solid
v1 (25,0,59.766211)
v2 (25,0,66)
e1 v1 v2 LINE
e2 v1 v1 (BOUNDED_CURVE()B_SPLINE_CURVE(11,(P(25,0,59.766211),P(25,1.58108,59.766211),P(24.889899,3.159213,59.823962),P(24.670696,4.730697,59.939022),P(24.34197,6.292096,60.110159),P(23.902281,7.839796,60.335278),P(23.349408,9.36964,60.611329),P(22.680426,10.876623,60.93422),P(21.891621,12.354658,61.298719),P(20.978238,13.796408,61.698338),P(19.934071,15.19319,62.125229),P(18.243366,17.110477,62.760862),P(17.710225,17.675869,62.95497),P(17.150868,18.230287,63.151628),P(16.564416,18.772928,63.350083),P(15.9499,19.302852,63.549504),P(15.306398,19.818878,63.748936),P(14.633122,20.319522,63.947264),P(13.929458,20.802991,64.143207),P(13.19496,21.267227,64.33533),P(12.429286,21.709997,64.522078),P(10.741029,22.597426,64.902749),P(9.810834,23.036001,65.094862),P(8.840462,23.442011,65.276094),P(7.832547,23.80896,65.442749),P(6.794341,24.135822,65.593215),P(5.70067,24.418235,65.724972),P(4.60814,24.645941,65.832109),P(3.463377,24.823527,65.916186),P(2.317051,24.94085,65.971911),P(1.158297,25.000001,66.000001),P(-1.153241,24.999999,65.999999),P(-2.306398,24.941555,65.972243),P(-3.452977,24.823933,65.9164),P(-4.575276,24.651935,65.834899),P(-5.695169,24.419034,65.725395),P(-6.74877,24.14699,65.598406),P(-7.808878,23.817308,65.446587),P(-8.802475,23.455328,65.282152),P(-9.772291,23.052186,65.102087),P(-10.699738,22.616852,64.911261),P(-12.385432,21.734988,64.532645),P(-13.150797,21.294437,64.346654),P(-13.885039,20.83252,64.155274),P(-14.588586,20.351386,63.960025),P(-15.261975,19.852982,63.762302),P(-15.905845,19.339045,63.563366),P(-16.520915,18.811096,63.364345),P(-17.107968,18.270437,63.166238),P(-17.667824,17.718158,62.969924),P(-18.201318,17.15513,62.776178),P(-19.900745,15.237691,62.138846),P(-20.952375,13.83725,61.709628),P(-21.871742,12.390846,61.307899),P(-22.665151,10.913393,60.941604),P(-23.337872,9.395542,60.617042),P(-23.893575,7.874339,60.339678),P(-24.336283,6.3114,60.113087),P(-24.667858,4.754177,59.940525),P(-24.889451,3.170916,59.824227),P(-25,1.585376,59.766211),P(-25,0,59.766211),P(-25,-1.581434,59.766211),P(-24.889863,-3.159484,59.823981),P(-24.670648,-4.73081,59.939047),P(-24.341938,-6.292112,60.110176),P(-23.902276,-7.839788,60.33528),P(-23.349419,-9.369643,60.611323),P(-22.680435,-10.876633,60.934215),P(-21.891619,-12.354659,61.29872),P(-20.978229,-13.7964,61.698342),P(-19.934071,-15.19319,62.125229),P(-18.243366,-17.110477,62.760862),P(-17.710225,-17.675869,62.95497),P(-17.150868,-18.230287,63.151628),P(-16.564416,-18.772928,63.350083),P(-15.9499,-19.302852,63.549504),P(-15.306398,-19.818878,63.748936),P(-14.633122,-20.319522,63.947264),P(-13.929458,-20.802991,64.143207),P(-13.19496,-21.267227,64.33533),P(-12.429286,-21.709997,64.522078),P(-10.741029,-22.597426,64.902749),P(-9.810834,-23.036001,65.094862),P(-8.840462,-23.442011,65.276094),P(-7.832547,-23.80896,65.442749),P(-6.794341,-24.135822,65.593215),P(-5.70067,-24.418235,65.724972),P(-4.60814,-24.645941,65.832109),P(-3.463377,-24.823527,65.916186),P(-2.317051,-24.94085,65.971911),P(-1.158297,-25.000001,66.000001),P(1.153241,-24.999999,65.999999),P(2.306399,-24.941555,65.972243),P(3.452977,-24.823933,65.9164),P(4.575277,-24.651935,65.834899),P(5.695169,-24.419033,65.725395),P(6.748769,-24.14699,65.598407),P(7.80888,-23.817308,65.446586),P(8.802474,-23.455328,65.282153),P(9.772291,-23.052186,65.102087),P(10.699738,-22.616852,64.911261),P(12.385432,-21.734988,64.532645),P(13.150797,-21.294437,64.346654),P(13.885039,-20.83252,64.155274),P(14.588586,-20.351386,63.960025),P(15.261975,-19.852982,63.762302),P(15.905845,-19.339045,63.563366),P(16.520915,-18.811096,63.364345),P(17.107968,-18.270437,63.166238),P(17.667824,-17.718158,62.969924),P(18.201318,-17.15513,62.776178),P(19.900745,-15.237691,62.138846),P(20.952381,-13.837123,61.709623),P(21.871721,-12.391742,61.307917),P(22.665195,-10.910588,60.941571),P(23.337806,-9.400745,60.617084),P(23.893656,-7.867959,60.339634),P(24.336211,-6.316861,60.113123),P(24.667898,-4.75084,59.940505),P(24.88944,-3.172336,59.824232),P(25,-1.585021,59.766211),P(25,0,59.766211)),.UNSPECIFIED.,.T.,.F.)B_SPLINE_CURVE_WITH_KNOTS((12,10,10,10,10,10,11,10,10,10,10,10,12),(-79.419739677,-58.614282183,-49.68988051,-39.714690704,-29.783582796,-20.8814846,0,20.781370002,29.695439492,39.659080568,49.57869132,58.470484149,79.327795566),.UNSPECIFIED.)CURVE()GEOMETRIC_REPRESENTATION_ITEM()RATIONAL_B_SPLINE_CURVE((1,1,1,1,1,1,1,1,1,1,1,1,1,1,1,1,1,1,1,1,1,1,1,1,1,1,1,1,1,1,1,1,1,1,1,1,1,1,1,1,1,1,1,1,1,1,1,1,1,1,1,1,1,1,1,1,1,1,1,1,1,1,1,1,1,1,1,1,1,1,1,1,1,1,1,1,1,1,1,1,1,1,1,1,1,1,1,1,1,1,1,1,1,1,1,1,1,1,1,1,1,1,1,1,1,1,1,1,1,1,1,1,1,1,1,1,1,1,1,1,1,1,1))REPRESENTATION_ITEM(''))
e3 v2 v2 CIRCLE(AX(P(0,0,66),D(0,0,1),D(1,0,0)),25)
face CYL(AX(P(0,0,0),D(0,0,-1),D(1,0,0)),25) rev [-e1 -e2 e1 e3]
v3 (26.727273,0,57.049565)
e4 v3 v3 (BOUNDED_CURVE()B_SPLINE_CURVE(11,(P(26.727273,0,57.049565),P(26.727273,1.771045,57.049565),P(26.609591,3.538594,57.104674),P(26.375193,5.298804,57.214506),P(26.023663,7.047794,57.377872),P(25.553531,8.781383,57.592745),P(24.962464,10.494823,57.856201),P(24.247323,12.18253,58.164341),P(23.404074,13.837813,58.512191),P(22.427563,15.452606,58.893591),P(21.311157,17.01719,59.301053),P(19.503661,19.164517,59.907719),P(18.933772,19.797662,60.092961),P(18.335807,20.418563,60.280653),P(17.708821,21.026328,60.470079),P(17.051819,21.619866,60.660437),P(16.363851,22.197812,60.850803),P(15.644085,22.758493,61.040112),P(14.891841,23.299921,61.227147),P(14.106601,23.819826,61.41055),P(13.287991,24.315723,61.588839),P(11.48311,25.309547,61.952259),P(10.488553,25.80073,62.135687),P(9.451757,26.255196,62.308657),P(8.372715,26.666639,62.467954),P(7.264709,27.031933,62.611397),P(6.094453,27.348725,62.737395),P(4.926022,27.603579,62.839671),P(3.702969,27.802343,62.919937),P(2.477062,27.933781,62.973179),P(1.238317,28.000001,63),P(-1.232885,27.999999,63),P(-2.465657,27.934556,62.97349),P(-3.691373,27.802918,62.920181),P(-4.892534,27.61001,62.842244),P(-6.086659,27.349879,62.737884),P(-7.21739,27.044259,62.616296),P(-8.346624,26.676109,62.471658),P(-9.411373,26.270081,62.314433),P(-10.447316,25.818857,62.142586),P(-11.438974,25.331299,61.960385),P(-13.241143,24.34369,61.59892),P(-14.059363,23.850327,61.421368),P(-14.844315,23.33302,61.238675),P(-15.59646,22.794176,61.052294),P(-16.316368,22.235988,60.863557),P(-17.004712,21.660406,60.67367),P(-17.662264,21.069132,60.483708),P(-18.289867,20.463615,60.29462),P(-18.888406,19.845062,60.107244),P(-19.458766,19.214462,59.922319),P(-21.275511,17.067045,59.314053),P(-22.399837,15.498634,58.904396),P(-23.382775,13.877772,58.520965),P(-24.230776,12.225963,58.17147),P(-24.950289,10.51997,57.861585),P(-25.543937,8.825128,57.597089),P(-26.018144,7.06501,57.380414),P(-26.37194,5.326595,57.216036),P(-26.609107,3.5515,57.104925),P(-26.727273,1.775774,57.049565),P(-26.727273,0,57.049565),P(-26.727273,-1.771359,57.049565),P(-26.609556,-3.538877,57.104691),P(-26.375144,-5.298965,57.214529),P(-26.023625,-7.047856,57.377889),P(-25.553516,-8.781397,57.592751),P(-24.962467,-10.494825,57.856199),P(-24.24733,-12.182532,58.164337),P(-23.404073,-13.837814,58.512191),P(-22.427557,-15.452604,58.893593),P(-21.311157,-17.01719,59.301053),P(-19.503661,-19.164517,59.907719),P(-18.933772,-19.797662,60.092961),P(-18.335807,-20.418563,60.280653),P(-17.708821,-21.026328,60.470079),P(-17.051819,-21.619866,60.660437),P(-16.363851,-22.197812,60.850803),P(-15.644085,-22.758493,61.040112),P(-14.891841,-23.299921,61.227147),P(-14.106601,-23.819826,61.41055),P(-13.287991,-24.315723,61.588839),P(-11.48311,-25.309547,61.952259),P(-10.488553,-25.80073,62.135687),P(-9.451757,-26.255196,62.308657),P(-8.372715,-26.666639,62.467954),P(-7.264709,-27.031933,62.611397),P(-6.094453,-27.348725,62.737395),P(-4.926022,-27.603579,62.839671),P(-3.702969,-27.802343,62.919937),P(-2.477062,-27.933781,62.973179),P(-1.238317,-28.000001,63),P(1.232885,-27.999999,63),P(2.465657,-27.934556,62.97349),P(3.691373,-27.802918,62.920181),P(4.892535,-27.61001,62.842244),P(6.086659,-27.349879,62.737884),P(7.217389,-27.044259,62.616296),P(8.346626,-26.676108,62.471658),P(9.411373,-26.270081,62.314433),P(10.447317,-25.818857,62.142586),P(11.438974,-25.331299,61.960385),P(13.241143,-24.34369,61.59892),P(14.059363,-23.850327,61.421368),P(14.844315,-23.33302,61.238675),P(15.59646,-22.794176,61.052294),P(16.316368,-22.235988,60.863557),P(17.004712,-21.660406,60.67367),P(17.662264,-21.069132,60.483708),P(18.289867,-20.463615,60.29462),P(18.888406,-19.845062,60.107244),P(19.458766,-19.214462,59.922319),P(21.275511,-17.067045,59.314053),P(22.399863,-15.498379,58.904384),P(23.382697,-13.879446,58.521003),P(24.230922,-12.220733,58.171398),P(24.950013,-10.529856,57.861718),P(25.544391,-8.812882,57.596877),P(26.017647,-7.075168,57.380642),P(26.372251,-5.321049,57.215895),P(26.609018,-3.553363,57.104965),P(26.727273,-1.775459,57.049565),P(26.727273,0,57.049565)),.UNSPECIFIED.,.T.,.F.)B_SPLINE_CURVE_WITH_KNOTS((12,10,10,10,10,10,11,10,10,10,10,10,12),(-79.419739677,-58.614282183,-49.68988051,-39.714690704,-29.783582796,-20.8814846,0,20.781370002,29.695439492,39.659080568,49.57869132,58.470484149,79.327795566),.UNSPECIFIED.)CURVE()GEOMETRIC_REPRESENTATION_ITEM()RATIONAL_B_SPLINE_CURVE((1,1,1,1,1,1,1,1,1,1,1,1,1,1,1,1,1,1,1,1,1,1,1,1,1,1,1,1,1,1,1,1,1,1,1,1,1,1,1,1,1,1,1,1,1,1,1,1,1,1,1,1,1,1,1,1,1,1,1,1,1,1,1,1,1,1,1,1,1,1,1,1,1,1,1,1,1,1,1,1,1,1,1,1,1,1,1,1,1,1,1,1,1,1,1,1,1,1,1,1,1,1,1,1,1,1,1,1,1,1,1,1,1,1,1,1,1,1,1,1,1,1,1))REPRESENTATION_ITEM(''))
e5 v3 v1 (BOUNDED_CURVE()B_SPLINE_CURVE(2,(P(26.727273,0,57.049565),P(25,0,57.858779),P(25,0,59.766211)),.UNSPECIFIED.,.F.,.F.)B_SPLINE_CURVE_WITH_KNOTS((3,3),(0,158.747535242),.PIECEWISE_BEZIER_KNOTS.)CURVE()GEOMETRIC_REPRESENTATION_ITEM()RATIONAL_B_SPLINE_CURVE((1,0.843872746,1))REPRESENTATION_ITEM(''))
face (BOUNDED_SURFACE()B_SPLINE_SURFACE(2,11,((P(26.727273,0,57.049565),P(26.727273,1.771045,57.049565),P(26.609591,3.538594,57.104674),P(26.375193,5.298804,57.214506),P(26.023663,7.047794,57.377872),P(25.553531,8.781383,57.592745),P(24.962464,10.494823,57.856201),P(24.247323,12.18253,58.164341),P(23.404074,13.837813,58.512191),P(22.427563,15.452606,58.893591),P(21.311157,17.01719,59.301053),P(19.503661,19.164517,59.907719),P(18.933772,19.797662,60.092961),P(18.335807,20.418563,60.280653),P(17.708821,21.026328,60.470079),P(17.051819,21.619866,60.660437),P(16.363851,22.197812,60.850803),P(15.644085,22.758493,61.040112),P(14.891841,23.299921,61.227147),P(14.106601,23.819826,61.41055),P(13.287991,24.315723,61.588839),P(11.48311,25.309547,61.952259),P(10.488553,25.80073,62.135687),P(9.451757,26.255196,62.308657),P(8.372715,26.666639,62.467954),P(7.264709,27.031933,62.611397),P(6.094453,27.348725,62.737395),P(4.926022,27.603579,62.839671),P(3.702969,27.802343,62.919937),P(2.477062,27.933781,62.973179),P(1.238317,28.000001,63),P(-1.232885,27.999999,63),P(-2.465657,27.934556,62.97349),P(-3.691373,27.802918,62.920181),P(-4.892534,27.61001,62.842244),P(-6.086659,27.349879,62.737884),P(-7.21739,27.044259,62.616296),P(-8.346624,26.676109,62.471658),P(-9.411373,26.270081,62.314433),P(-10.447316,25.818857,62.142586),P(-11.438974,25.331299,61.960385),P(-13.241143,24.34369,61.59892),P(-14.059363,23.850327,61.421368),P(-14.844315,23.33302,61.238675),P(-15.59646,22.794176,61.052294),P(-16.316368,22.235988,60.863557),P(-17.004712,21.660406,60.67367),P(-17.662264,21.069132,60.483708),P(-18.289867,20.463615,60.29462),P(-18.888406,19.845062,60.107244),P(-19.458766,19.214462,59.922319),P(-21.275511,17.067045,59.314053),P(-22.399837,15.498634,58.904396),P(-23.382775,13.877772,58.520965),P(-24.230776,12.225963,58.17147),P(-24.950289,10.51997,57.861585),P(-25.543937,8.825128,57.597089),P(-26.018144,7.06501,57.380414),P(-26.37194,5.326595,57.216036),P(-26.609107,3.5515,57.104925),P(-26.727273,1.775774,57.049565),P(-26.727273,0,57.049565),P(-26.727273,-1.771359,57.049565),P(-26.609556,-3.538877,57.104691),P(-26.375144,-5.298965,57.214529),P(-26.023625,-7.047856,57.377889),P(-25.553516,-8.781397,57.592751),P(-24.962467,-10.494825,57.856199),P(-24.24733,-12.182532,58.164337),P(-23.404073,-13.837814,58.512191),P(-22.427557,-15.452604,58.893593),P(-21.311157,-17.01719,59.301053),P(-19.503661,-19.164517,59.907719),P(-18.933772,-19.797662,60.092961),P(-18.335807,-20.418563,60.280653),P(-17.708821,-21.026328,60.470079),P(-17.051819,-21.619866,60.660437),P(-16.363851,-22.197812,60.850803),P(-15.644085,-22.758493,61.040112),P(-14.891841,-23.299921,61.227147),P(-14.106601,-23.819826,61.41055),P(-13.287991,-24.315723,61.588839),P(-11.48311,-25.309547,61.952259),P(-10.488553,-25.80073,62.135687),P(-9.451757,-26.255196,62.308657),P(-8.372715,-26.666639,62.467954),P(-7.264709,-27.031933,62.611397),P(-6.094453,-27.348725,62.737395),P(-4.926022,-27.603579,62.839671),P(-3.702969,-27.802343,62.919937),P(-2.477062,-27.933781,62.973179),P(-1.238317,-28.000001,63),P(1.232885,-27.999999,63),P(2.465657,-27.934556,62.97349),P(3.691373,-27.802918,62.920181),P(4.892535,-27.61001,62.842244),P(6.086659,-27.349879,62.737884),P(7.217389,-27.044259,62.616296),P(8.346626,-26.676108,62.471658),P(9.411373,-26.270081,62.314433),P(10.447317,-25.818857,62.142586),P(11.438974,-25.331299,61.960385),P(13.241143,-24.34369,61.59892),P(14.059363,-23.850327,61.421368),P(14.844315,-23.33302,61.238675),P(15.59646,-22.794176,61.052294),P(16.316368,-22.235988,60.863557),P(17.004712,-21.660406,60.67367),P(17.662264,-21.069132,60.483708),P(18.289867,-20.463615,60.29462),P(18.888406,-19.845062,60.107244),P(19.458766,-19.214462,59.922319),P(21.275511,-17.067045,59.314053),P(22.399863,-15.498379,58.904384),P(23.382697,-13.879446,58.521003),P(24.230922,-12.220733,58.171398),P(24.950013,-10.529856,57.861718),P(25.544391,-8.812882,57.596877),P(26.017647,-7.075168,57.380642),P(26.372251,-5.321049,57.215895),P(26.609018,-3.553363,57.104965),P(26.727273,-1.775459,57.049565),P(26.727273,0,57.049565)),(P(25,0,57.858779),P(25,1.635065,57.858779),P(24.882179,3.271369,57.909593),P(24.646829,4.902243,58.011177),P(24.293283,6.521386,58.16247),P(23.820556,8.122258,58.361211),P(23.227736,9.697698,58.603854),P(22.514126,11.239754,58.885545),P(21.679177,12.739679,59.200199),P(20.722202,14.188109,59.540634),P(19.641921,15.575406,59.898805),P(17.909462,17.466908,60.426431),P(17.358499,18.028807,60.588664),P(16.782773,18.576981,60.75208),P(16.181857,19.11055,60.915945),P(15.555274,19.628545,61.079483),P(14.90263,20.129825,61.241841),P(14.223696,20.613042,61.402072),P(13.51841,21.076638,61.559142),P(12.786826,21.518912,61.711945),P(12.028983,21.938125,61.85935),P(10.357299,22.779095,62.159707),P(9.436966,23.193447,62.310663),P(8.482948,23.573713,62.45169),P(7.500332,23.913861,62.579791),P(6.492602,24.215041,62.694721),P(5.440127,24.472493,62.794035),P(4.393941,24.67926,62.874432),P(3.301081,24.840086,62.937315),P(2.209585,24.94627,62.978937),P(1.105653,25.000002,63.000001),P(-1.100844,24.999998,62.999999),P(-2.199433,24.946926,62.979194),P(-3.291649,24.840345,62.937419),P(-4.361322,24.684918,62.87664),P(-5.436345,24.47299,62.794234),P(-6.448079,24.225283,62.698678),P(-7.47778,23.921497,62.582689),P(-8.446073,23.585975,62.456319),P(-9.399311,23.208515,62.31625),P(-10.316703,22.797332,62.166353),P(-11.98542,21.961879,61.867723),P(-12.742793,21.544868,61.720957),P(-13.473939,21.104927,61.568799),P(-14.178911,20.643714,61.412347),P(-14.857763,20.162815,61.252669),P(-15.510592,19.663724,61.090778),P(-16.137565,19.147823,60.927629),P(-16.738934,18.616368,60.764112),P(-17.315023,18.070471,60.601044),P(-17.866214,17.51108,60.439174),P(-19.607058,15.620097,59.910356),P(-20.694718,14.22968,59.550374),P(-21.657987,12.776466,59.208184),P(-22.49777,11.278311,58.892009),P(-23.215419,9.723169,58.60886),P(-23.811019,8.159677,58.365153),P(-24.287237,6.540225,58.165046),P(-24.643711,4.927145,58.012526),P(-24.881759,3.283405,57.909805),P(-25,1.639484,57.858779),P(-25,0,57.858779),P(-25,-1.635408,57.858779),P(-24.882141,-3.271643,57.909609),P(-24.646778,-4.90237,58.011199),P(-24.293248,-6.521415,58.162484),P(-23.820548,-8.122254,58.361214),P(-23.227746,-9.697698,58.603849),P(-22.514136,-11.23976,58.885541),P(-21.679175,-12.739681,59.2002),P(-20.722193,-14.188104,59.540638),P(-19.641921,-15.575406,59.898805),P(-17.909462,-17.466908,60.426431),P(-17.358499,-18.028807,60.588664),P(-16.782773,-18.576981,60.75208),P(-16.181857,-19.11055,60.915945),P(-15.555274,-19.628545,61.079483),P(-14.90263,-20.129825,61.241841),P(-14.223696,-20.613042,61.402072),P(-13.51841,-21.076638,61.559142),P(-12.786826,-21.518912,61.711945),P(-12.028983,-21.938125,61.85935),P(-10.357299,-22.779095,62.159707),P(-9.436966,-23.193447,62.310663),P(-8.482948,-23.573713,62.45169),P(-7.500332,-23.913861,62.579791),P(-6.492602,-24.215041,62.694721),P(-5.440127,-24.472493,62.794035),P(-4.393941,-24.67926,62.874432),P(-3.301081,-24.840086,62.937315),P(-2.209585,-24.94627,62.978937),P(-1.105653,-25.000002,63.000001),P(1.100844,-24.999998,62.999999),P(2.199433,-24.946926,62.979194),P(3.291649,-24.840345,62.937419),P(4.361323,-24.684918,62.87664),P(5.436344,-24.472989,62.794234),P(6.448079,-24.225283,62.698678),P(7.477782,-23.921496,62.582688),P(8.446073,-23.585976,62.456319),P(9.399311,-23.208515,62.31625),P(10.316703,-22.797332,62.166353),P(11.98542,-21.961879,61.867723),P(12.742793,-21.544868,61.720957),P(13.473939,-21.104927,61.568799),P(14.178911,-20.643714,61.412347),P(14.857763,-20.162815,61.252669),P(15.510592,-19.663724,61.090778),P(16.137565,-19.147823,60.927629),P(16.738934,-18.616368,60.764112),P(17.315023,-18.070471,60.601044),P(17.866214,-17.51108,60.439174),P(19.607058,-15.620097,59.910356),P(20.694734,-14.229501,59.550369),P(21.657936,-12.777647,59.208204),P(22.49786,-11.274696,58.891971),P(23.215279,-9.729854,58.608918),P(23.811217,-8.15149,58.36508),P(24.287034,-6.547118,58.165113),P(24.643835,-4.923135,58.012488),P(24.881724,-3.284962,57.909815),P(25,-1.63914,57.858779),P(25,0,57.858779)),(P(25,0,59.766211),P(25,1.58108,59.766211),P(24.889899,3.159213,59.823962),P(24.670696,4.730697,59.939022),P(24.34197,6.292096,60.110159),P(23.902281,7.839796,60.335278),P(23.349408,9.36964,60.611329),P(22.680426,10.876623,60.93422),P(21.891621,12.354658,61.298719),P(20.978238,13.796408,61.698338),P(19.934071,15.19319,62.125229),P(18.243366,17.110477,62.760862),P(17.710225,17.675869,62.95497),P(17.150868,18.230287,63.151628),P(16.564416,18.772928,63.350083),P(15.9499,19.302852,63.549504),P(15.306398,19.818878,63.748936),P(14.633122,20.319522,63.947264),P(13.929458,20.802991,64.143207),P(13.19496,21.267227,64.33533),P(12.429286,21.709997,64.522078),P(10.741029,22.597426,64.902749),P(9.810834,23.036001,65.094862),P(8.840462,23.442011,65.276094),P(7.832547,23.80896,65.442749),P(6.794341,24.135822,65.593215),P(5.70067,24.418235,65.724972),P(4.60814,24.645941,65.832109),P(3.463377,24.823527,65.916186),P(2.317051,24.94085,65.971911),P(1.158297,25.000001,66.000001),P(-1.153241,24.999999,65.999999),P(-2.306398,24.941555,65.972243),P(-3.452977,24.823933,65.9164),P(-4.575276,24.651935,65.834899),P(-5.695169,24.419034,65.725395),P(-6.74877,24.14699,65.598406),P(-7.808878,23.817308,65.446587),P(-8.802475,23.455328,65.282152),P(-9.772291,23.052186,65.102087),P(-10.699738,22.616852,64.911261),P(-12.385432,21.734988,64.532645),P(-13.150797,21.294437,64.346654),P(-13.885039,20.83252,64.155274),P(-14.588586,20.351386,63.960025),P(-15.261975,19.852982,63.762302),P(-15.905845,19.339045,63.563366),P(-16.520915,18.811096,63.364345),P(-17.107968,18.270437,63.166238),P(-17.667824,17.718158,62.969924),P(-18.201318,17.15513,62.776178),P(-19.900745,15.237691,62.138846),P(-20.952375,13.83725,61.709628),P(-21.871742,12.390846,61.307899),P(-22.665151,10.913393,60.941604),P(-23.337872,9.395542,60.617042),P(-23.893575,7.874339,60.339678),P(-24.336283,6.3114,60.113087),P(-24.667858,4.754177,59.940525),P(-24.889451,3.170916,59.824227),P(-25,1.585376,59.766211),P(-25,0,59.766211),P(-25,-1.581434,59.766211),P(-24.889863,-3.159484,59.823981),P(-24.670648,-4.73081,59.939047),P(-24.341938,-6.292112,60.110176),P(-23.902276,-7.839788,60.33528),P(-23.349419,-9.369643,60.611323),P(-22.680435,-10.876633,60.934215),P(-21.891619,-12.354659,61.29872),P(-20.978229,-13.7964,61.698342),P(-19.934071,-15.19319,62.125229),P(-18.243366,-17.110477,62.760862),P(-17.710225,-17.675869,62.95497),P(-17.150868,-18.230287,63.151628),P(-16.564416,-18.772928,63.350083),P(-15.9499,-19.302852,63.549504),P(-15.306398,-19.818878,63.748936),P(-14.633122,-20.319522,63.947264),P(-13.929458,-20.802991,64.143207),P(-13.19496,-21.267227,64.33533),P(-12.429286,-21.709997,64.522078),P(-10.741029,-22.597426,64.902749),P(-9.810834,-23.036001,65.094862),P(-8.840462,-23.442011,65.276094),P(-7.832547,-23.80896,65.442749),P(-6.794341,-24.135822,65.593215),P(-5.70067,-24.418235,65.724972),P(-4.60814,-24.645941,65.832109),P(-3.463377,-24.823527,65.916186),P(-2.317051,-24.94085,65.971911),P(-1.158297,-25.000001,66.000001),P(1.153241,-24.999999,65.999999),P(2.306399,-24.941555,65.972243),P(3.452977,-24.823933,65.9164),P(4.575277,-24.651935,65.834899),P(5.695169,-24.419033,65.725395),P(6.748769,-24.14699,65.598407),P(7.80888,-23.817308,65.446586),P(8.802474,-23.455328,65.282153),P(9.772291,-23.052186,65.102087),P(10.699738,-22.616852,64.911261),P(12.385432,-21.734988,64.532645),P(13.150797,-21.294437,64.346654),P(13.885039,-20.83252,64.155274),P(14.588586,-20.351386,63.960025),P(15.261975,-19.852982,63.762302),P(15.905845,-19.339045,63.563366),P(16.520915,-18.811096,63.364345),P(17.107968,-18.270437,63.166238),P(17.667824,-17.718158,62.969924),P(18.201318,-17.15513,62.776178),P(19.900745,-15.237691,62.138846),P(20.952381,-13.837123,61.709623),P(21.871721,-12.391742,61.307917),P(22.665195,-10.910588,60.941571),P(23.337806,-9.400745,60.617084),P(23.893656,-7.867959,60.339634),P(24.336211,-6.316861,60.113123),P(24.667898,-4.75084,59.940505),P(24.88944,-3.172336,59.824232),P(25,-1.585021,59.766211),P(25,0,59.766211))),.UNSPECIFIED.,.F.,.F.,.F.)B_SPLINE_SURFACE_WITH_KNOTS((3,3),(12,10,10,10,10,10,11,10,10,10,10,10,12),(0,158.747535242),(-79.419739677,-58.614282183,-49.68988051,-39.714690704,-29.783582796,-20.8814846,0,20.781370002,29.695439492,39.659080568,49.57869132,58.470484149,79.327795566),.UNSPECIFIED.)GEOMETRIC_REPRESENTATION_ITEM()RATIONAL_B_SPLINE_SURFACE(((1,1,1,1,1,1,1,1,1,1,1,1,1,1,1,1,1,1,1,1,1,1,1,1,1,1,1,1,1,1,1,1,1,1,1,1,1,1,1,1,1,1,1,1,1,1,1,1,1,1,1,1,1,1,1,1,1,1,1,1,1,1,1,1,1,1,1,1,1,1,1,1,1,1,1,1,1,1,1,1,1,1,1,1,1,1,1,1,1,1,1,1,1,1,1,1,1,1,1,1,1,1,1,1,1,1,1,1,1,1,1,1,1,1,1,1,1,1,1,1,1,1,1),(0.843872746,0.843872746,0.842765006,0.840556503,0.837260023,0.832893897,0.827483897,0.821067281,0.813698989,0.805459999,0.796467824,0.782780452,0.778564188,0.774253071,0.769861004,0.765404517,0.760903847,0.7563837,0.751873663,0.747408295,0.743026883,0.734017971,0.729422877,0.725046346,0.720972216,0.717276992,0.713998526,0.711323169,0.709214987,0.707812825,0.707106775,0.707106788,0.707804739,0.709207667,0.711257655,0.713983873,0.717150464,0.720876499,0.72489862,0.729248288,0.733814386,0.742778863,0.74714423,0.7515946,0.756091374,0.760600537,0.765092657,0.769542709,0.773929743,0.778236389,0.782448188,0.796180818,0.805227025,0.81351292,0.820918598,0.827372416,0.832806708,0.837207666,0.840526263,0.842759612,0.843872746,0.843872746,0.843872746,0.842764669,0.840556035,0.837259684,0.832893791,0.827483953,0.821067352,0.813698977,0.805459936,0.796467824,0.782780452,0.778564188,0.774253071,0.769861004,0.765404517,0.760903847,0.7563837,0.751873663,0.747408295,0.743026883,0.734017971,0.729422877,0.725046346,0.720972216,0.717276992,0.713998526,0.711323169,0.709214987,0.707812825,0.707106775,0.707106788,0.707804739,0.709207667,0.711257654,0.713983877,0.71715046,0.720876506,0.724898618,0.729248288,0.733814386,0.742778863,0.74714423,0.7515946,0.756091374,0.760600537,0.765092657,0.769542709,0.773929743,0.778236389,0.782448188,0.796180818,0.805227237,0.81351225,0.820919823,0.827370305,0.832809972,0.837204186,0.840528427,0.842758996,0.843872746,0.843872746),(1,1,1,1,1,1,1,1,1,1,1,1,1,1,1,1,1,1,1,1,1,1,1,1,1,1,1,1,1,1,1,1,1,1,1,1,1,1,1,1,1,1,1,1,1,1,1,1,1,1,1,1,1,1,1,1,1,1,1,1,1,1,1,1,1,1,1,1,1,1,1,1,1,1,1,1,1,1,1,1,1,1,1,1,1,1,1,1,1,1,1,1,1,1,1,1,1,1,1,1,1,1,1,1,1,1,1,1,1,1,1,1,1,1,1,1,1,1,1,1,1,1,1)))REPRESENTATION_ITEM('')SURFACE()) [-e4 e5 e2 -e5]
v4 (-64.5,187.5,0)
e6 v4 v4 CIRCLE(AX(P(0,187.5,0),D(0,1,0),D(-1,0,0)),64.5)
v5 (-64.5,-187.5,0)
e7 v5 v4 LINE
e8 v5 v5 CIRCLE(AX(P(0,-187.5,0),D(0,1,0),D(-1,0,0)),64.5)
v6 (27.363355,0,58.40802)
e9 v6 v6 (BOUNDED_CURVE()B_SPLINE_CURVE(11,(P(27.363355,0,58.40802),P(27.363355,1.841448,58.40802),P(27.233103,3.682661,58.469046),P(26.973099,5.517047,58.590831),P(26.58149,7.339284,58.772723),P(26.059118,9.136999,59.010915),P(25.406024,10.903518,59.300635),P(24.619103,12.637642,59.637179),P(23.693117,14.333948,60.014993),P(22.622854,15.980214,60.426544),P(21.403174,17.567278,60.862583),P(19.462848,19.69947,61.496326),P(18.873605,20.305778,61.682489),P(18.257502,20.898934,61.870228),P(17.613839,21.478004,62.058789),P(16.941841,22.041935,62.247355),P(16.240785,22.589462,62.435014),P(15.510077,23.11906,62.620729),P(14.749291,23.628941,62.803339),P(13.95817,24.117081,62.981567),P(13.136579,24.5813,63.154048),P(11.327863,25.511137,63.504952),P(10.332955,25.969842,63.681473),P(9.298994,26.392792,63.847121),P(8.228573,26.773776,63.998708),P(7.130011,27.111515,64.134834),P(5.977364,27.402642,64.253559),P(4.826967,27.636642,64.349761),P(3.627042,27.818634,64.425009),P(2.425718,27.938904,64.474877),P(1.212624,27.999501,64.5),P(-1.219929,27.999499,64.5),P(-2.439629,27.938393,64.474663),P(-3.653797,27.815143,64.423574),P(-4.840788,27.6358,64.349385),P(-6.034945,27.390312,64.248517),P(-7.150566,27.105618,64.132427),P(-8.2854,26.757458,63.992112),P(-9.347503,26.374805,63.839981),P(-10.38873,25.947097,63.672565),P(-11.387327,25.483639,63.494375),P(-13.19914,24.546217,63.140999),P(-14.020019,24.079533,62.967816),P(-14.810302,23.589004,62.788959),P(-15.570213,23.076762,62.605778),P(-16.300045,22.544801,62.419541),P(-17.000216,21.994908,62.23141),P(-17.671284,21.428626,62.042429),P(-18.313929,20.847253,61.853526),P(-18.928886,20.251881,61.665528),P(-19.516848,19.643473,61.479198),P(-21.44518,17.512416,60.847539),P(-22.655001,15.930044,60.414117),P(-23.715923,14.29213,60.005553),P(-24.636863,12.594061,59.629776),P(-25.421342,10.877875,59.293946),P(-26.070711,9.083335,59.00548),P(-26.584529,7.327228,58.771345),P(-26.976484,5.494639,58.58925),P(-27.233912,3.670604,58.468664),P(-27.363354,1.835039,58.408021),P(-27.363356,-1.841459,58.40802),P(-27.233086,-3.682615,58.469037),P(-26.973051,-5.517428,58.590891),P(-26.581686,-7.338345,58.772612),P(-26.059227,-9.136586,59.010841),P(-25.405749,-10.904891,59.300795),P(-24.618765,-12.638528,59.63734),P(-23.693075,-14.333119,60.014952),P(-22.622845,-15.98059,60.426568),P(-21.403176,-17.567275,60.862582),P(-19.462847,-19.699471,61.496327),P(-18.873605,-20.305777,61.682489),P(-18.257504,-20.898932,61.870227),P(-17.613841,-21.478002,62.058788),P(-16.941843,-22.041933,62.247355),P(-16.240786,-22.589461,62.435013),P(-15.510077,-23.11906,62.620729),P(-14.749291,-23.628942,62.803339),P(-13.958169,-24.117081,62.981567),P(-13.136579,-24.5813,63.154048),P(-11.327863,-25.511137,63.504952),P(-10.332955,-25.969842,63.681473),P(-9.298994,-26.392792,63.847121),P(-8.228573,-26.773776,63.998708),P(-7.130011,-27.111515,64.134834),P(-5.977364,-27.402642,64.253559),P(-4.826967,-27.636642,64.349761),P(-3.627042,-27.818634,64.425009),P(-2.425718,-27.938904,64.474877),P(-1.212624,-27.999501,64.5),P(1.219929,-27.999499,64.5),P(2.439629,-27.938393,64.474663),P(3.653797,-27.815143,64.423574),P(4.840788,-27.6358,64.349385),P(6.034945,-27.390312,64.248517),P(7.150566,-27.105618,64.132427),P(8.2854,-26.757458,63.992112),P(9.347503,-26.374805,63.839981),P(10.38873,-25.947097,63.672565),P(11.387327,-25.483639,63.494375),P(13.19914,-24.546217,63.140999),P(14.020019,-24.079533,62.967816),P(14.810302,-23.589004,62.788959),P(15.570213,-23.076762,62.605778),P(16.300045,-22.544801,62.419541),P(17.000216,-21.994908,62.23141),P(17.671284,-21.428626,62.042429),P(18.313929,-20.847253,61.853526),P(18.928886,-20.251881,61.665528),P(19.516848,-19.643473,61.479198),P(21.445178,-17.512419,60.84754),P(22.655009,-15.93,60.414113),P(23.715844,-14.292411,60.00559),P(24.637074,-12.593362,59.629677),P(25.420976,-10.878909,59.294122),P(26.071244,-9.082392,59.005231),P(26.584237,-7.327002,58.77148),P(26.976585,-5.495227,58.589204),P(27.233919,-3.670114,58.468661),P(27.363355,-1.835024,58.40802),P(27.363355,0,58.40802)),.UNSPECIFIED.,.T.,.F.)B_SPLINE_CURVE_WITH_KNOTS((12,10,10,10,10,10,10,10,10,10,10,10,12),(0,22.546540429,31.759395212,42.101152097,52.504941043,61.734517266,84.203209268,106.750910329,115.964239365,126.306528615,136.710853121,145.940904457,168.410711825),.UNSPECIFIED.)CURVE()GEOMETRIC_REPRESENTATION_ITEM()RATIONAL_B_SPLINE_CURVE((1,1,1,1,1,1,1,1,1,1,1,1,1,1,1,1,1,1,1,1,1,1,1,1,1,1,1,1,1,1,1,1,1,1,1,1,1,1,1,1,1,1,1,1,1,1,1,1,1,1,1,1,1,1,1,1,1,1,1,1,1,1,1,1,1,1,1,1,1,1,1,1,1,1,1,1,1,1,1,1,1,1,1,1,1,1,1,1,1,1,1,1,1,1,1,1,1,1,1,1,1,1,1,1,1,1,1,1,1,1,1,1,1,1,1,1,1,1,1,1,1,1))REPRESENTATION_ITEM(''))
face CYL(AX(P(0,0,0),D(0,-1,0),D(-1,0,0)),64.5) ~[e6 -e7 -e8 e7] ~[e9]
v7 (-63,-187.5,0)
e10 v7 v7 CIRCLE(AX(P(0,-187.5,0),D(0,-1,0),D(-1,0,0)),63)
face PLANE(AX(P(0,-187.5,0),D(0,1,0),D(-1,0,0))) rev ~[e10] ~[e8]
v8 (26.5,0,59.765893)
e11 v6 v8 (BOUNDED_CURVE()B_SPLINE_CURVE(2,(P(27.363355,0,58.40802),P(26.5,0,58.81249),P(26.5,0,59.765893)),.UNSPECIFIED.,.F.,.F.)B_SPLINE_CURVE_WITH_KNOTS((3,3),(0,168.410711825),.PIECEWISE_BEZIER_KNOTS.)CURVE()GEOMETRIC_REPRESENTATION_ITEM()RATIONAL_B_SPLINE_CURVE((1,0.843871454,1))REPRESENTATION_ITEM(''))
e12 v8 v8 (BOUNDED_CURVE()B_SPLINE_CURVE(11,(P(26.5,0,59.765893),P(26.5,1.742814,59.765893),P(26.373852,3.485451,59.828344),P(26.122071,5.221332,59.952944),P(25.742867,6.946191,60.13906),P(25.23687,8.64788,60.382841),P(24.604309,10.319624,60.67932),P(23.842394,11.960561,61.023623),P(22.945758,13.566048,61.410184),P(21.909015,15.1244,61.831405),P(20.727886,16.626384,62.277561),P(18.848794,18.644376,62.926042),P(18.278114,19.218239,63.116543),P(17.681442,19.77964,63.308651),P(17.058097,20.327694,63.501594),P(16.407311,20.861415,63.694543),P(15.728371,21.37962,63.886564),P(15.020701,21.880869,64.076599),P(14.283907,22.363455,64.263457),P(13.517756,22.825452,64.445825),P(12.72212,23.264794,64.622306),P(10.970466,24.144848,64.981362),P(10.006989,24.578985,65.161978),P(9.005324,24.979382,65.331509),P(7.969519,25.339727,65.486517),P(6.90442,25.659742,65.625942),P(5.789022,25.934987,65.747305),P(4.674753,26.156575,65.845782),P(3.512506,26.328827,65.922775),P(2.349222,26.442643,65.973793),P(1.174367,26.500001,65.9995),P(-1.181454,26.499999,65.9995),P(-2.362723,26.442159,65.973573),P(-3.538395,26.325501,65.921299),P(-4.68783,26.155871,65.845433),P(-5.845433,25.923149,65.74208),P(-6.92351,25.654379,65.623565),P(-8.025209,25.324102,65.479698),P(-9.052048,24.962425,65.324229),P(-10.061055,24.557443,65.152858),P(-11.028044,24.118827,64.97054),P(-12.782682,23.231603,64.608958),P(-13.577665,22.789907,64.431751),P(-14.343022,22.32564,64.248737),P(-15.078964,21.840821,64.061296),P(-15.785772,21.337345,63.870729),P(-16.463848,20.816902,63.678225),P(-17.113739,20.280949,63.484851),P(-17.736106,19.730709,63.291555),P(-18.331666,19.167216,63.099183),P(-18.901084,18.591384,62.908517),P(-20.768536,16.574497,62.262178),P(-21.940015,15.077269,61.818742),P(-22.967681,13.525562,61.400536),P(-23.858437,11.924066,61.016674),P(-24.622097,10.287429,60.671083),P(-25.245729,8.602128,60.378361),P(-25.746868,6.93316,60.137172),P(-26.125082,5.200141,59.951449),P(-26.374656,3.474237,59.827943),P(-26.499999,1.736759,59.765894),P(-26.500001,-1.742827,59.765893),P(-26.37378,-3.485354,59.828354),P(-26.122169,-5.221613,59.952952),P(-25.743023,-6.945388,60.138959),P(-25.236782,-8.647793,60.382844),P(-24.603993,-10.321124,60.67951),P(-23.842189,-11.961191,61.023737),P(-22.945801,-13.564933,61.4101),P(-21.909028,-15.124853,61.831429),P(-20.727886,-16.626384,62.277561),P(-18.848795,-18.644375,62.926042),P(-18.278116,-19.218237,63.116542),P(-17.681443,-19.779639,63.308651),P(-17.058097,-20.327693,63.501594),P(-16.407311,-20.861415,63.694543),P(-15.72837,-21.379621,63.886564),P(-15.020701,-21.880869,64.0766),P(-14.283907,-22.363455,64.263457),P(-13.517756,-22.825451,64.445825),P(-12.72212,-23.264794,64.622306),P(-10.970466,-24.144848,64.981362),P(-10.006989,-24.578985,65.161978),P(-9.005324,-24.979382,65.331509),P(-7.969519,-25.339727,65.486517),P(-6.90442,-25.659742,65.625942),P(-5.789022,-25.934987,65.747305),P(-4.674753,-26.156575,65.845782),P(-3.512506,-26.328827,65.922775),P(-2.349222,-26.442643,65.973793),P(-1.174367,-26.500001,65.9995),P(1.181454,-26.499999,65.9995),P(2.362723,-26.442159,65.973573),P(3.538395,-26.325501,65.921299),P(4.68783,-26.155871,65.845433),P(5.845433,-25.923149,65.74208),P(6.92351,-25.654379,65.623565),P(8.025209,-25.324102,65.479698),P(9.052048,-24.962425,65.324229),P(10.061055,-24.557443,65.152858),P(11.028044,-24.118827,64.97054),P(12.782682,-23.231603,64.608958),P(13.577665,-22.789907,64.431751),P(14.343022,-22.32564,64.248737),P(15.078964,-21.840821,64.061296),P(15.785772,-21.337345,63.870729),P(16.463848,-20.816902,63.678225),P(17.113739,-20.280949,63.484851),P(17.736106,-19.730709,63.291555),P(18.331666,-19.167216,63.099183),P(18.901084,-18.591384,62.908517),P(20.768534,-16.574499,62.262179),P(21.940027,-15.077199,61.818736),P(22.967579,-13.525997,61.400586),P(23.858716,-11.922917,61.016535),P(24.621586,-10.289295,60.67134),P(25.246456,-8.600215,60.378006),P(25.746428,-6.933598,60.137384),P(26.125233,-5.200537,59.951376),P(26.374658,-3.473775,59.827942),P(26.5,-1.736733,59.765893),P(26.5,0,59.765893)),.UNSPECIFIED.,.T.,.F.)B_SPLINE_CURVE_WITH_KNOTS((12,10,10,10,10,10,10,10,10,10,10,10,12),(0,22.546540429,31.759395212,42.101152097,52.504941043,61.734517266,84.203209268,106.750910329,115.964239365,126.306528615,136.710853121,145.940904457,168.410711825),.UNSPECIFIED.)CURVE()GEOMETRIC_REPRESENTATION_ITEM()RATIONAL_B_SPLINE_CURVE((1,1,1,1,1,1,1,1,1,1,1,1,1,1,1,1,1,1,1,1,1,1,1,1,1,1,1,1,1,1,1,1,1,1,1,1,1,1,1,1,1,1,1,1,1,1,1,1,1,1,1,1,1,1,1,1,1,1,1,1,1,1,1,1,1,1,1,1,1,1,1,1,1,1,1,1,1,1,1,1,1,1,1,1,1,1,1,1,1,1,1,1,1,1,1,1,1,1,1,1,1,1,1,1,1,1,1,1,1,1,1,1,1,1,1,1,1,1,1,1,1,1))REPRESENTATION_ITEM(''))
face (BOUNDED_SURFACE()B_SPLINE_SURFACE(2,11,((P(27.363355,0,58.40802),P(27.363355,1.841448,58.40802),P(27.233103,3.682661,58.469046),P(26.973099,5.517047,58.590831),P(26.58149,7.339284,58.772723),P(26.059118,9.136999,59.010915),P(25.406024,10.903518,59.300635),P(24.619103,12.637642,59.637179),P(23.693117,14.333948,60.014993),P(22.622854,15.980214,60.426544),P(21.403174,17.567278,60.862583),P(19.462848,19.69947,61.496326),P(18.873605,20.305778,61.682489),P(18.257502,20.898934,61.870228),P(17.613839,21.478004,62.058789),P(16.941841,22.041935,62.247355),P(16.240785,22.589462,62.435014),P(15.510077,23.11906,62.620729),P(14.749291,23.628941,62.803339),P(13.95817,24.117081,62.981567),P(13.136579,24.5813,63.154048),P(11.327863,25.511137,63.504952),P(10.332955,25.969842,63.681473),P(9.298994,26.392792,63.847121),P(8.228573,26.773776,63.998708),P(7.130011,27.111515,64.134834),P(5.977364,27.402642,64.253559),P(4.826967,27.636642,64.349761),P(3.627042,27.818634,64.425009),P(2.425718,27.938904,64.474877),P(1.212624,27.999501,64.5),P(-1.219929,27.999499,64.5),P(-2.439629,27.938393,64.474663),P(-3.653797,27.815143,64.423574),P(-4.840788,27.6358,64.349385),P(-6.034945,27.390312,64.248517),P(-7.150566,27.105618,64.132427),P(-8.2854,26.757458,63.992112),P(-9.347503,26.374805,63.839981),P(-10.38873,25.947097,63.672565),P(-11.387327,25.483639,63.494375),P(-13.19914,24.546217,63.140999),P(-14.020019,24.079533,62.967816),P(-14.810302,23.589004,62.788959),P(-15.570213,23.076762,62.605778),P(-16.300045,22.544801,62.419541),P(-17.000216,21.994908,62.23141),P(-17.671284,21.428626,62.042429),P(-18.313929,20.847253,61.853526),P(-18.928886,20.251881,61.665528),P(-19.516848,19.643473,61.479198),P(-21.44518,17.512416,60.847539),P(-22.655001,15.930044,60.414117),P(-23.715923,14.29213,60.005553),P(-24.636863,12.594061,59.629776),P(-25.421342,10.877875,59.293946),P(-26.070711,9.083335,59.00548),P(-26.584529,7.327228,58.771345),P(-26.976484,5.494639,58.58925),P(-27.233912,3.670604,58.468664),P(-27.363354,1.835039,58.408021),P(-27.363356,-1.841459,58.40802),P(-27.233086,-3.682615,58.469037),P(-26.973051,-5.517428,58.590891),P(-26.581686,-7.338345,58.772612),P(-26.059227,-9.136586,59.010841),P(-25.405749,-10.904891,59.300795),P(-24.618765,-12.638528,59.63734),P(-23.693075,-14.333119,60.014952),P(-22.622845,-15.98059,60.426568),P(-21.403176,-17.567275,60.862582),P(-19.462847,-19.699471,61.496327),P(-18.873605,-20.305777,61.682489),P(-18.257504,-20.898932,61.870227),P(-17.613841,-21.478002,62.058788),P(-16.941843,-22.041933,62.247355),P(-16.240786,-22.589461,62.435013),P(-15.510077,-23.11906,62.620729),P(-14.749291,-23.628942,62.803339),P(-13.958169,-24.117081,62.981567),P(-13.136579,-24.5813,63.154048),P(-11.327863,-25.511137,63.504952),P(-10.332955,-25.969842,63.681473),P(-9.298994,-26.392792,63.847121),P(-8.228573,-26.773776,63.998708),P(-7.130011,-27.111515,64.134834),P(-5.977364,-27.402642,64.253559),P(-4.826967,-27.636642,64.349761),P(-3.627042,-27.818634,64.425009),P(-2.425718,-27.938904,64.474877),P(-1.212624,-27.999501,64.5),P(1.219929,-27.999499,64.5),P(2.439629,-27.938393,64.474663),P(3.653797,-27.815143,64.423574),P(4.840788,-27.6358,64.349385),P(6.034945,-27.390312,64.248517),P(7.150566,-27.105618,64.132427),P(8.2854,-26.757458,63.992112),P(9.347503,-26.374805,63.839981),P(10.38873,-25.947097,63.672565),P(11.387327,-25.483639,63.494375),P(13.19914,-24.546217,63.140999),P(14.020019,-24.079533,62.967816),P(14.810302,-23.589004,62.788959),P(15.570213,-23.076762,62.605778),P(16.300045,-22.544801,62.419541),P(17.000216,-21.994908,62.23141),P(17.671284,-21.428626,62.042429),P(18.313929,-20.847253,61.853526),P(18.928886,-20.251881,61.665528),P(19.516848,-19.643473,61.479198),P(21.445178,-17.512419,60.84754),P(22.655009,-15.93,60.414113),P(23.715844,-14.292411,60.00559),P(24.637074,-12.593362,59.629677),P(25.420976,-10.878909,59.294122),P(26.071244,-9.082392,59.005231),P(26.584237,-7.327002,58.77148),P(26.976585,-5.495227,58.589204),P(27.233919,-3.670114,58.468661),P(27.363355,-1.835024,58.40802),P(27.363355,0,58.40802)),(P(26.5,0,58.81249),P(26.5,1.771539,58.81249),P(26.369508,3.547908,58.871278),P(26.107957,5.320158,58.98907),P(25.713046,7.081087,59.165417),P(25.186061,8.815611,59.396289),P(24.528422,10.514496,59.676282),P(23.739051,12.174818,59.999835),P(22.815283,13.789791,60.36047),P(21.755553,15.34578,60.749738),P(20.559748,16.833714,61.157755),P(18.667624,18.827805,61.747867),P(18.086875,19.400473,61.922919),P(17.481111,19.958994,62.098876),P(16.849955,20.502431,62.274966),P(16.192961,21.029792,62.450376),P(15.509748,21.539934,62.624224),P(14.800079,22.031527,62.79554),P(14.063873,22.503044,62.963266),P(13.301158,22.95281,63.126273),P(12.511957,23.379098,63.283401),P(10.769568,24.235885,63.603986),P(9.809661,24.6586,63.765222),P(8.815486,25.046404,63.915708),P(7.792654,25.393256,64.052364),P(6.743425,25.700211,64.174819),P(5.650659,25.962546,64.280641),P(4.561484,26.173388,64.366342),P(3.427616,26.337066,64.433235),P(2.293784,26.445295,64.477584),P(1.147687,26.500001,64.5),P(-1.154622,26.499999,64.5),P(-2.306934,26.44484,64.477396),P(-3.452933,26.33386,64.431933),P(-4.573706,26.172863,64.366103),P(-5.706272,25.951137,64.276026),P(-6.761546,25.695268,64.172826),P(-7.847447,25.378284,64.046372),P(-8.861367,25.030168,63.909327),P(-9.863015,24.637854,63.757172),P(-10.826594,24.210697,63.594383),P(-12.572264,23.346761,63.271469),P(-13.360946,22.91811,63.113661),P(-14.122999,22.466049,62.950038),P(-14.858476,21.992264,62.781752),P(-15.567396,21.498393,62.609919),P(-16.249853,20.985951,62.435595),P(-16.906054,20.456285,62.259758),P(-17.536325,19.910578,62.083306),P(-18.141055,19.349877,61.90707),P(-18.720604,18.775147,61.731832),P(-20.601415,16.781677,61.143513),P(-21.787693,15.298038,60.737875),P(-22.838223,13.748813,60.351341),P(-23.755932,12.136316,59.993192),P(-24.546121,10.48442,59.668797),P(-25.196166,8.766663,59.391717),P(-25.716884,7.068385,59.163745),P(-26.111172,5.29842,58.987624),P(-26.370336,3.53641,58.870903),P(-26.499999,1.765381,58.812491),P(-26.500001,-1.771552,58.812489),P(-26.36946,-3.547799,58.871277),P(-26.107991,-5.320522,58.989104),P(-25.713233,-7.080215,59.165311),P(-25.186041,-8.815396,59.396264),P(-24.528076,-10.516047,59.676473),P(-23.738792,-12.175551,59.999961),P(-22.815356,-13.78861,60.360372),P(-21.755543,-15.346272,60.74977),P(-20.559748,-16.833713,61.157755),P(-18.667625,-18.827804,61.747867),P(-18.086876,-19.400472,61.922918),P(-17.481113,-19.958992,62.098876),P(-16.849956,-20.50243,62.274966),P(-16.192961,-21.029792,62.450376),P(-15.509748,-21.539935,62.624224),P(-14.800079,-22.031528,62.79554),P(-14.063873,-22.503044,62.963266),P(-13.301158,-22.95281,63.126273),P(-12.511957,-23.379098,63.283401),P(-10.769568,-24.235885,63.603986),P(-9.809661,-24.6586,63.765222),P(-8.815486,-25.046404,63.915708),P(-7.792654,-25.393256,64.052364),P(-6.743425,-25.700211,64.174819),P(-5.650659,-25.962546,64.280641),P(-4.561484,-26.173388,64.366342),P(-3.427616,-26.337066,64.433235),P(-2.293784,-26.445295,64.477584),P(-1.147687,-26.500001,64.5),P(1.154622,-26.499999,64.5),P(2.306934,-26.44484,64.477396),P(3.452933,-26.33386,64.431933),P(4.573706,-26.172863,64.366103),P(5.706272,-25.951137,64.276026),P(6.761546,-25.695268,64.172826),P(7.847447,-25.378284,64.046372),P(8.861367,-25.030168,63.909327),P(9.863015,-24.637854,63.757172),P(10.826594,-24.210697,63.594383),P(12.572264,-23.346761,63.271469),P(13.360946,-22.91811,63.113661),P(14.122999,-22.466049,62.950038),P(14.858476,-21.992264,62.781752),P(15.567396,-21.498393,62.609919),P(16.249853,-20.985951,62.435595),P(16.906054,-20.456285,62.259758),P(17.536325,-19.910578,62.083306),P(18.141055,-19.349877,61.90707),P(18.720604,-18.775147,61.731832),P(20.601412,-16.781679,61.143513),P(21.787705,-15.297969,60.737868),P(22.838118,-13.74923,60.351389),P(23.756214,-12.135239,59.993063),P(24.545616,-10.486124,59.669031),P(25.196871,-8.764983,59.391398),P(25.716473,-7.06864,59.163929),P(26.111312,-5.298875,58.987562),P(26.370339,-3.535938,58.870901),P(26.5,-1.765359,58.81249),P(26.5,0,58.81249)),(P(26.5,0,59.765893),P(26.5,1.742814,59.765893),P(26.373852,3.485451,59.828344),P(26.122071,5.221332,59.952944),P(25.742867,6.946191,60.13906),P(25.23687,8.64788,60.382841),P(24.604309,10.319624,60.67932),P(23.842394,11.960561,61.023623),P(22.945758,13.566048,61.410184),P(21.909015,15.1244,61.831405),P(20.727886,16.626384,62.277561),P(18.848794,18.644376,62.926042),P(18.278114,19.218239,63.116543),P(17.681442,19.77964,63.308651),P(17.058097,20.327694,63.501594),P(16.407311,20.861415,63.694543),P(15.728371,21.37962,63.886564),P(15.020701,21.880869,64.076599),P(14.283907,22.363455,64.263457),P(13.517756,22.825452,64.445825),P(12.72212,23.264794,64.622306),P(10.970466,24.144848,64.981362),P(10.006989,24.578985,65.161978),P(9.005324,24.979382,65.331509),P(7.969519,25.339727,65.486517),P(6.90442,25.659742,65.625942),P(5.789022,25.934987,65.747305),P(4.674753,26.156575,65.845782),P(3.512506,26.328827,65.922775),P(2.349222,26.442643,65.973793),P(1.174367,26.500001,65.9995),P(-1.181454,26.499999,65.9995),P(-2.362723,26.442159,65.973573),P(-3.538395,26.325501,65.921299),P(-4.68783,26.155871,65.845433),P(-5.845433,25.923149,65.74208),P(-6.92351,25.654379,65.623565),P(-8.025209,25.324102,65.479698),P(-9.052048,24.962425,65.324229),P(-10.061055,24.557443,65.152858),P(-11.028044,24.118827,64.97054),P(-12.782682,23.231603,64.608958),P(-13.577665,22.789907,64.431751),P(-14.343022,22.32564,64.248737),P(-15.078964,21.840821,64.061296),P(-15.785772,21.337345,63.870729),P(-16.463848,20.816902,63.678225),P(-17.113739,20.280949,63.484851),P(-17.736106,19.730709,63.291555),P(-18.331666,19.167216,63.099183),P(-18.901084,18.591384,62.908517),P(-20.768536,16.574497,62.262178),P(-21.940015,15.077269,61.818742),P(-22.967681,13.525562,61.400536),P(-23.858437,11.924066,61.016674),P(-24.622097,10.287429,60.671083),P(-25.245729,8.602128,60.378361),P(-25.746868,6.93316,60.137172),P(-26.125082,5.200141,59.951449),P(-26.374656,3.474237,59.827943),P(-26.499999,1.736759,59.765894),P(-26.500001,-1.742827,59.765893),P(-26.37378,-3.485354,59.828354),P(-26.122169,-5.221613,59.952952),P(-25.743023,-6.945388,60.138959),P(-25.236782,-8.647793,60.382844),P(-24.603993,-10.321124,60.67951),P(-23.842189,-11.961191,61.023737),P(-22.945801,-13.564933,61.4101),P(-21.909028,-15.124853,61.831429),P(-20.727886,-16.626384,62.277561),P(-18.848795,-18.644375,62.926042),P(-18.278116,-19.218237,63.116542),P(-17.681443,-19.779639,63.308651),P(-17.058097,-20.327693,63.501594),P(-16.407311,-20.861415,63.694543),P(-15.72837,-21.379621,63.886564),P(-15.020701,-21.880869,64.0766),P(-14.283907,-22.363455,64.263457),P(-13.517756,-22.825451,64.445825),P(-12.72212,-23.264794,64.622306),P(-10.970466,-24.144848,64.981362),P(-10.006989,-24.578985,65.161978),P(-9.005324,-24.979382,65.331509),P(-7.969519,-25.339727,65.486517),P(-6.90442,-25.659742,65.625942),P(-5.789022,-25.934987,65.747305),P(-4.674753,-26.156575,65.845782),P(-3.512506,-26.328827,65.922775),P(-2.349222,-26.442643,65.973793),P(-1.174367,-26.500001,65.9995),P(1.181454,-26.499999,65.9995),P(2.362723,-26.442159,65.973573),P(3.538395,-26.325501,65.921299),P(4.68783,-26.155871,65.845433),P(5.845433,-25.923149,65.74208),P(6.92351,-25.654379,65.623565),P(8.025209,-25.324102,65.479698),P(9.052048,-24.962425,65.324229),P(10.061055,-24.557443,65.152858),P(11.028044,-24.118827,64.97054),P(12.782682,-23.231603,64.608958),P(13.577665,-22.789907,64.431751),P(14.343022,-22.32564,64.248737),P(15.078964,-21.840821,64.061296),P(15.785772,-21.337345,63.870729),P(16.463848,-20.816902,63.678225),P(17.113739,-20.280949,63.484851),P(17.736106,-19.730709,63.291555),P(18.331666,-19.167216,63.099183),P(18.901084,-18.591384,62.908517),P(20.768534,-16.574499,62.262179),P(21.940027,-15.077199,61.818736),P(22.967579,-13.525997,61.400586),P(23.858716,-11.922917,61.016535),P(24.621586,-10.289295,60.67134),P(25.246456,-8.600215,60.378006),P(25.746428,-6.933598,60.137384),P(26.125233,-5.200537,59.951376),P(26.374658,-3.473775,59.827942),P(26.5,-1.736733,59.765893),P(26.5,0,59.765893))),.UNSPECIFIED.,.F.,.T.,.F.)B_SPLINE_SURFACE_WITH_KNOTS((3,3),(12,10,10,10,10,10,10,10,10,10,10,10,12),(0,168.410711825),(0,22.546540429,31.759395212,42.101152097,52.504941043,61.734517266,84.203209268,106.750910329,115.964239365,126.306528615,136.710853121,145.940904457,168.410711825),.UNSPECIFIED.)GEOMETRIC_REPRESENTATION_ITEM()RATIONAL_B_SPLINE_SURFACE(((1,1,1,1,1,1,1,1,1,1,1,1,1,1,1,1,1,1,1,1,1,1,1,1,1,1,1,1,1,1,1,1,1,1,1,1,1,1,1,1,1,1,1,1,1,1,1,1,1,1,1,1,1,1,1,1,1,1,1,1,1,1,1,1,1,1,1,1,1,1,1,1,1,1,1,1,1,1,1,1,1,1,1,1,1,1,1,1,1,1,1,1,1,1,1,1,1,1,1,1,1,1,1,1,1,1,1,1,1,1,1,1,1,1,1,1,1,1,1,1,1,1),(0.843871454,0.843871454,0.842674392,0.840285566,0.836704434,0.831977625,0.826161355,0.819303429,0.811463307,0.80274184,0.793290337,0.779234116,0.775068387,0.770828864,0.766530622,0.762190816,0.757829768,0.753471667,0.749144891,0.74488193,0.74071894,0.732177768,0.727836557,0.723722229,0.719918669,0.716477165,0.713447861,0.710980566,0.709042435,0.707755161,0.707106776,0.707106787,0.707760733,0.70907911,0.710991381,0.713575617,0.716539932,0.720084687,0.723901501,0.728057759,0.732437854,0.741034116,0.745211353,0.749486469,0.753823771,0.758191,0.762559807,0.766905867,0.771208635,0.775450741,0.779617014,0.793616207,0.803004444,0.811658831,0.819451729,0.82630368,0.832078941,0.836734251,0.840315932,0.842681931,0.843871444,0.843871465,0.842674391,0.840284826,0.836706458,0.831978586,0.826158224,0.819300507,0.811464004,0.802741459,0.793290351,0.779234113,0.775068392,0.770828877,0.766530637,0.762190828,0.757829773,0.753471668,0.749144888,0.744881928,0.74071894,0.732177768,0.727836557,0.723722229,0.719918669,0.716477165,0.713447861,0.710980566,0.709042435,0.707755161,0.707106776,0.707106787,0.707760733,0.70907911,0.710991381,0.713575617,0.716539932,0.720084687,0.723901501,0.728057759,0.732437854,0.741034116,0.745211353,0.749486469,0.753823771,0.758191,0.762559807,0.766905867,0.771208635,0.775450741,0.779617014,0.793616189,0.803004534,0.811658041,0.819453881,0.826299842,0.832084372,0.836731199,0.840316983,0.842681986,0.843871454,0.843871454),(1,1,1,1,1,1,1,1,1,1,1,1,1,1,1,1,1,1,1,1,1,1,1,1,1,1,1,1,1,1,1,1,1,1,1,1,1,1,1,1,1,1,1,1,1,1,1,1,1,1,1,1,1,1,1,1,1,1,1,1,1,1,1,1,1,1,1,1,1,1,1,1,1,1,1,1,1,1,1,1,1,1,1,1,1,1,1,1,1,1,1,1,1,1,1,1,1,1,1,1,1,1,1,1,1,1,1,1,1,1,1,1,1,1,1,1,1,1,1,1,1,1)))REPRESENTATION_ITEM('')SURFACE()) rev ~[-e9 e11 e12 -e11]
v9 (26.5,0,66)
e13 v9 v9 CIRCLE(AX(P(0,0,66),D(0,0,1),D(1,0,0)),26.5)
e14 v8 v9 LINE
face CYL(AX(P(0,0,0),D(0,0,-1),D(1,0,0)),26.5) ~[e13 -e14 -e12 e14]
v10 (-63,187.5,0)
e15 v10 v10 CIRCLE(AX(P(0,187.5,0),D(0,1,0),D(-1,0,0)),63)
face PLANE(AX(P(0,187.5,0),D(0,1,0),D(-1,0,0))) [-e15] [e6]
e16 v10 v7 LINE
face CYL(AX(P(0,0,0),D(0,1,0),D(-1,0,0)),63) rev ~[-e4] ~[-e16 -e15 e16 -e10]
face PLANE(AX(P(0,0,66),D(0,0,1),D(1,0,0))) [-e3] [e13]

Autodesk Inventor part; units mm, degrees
ref_plane "YZ Plane" through (0, 0, 0) normal (1, 0, 0) x (0, 1, 0)
ref_plane "XZ Plane" through (0, 0, 0) normal (0, 1, 0) x (-1, 0, 0)
ref_plane "XY Plane" through (0, 0, 0) normal (0, 0, 1) x (1, 0, 0)
sketch "Szkic8" plane through (0, 0, 0) normal (0, 1, 0) x (-1, 0, 0)
  circle A0 centre (0, 0) radius 64.5
  circle A1 centre (0, 0) radius 63
  dimension "d53" = 129
  dimension "d54" = 1.5
extrude "Wyciągnięcie proste2" add sketch "Szkic8" along normal mid plane 375
sketch "Szkic13" plane through (0, 0, 0) normal (0, 0, 1) x (1, 0, 0)
  circle A0 centre (0, 0) radius 26.5
  circle A1 centre (0, 0) radius 25
  dimension "d67" = 53
  dimension "d68" = 1.5
extrude "Wyciągnięcie proste6" add sketch "Szkic13" along normal blind 66
sketch "Szkic14" plane through (0, 0, 66) normal (0, 0, 1) x (1, 0, 0)
  circle A0 centre (0, 0) radius 25 projected
extrude "Wyciągnięcie proste7" cut sketch "Szkic14" against normal blind 66
sketch "Szkic15" plane through (0, -187.5, 0) normal (0, -1, 0) x (1, 0, 0)
  circle A0 centre (0, 0) radius 63 projected
extrude "Wyciągnięcie proste8" cut sketch "Szkic15" against normal blind 375
fillet "Zaokrąglenie3" radius 1.5 2 edges at (-0.0006, 26.5, 64.5) (0.0005, -26.5, 64.5)
fillet "Zaokrąglenie4" radius 3 2 edges at (0.0059, -25, 63) (-0.0059, 25, 63)
equation "\"d53\" = OD"
equation "\"d54\" = THK"
equation "\"d55\" = L1"
equation "\"d67\" = OD2"
equation "\"d68\" = THK"
equation "\"d69\" = L2"
equation "\"d71\" = L2"
equation "\"d73\" = L1"
equation "\"d75\" = THK"
equation "\"d76\" = 2 * THK"
equation "\"SzerokośćGięciaPodcięcia\" = Grubość"
equation "\"RozmiarPodcięciaNarożnika\" = 4 * Grubość"
equation "\"PromieńPrzejścia\" = PromieńGięcia"
equation "\"Rozmiar_promienia_Jacobiego\" = PromieńGięcia"
equation "\"Wielk_odstępu\" = Grubość"
equation "\"d2\" = PromieńGięcia"
equation "\"d23\" = PromieńGięcia"
equation "\"OD\" = 129"
equation "\"THK\" = 1.5"
equation "\"L1\" = 375"
equation "\"L2\" = 66"
equation "\"OD2\" = 53"
equation "\"Grubość\" = 1.5"
equation "\"PromieńGięcia\" = 3"
properties part number "Trójnik red. krótki  Ø129 53 129 s=1,5 L=375" material "304"
